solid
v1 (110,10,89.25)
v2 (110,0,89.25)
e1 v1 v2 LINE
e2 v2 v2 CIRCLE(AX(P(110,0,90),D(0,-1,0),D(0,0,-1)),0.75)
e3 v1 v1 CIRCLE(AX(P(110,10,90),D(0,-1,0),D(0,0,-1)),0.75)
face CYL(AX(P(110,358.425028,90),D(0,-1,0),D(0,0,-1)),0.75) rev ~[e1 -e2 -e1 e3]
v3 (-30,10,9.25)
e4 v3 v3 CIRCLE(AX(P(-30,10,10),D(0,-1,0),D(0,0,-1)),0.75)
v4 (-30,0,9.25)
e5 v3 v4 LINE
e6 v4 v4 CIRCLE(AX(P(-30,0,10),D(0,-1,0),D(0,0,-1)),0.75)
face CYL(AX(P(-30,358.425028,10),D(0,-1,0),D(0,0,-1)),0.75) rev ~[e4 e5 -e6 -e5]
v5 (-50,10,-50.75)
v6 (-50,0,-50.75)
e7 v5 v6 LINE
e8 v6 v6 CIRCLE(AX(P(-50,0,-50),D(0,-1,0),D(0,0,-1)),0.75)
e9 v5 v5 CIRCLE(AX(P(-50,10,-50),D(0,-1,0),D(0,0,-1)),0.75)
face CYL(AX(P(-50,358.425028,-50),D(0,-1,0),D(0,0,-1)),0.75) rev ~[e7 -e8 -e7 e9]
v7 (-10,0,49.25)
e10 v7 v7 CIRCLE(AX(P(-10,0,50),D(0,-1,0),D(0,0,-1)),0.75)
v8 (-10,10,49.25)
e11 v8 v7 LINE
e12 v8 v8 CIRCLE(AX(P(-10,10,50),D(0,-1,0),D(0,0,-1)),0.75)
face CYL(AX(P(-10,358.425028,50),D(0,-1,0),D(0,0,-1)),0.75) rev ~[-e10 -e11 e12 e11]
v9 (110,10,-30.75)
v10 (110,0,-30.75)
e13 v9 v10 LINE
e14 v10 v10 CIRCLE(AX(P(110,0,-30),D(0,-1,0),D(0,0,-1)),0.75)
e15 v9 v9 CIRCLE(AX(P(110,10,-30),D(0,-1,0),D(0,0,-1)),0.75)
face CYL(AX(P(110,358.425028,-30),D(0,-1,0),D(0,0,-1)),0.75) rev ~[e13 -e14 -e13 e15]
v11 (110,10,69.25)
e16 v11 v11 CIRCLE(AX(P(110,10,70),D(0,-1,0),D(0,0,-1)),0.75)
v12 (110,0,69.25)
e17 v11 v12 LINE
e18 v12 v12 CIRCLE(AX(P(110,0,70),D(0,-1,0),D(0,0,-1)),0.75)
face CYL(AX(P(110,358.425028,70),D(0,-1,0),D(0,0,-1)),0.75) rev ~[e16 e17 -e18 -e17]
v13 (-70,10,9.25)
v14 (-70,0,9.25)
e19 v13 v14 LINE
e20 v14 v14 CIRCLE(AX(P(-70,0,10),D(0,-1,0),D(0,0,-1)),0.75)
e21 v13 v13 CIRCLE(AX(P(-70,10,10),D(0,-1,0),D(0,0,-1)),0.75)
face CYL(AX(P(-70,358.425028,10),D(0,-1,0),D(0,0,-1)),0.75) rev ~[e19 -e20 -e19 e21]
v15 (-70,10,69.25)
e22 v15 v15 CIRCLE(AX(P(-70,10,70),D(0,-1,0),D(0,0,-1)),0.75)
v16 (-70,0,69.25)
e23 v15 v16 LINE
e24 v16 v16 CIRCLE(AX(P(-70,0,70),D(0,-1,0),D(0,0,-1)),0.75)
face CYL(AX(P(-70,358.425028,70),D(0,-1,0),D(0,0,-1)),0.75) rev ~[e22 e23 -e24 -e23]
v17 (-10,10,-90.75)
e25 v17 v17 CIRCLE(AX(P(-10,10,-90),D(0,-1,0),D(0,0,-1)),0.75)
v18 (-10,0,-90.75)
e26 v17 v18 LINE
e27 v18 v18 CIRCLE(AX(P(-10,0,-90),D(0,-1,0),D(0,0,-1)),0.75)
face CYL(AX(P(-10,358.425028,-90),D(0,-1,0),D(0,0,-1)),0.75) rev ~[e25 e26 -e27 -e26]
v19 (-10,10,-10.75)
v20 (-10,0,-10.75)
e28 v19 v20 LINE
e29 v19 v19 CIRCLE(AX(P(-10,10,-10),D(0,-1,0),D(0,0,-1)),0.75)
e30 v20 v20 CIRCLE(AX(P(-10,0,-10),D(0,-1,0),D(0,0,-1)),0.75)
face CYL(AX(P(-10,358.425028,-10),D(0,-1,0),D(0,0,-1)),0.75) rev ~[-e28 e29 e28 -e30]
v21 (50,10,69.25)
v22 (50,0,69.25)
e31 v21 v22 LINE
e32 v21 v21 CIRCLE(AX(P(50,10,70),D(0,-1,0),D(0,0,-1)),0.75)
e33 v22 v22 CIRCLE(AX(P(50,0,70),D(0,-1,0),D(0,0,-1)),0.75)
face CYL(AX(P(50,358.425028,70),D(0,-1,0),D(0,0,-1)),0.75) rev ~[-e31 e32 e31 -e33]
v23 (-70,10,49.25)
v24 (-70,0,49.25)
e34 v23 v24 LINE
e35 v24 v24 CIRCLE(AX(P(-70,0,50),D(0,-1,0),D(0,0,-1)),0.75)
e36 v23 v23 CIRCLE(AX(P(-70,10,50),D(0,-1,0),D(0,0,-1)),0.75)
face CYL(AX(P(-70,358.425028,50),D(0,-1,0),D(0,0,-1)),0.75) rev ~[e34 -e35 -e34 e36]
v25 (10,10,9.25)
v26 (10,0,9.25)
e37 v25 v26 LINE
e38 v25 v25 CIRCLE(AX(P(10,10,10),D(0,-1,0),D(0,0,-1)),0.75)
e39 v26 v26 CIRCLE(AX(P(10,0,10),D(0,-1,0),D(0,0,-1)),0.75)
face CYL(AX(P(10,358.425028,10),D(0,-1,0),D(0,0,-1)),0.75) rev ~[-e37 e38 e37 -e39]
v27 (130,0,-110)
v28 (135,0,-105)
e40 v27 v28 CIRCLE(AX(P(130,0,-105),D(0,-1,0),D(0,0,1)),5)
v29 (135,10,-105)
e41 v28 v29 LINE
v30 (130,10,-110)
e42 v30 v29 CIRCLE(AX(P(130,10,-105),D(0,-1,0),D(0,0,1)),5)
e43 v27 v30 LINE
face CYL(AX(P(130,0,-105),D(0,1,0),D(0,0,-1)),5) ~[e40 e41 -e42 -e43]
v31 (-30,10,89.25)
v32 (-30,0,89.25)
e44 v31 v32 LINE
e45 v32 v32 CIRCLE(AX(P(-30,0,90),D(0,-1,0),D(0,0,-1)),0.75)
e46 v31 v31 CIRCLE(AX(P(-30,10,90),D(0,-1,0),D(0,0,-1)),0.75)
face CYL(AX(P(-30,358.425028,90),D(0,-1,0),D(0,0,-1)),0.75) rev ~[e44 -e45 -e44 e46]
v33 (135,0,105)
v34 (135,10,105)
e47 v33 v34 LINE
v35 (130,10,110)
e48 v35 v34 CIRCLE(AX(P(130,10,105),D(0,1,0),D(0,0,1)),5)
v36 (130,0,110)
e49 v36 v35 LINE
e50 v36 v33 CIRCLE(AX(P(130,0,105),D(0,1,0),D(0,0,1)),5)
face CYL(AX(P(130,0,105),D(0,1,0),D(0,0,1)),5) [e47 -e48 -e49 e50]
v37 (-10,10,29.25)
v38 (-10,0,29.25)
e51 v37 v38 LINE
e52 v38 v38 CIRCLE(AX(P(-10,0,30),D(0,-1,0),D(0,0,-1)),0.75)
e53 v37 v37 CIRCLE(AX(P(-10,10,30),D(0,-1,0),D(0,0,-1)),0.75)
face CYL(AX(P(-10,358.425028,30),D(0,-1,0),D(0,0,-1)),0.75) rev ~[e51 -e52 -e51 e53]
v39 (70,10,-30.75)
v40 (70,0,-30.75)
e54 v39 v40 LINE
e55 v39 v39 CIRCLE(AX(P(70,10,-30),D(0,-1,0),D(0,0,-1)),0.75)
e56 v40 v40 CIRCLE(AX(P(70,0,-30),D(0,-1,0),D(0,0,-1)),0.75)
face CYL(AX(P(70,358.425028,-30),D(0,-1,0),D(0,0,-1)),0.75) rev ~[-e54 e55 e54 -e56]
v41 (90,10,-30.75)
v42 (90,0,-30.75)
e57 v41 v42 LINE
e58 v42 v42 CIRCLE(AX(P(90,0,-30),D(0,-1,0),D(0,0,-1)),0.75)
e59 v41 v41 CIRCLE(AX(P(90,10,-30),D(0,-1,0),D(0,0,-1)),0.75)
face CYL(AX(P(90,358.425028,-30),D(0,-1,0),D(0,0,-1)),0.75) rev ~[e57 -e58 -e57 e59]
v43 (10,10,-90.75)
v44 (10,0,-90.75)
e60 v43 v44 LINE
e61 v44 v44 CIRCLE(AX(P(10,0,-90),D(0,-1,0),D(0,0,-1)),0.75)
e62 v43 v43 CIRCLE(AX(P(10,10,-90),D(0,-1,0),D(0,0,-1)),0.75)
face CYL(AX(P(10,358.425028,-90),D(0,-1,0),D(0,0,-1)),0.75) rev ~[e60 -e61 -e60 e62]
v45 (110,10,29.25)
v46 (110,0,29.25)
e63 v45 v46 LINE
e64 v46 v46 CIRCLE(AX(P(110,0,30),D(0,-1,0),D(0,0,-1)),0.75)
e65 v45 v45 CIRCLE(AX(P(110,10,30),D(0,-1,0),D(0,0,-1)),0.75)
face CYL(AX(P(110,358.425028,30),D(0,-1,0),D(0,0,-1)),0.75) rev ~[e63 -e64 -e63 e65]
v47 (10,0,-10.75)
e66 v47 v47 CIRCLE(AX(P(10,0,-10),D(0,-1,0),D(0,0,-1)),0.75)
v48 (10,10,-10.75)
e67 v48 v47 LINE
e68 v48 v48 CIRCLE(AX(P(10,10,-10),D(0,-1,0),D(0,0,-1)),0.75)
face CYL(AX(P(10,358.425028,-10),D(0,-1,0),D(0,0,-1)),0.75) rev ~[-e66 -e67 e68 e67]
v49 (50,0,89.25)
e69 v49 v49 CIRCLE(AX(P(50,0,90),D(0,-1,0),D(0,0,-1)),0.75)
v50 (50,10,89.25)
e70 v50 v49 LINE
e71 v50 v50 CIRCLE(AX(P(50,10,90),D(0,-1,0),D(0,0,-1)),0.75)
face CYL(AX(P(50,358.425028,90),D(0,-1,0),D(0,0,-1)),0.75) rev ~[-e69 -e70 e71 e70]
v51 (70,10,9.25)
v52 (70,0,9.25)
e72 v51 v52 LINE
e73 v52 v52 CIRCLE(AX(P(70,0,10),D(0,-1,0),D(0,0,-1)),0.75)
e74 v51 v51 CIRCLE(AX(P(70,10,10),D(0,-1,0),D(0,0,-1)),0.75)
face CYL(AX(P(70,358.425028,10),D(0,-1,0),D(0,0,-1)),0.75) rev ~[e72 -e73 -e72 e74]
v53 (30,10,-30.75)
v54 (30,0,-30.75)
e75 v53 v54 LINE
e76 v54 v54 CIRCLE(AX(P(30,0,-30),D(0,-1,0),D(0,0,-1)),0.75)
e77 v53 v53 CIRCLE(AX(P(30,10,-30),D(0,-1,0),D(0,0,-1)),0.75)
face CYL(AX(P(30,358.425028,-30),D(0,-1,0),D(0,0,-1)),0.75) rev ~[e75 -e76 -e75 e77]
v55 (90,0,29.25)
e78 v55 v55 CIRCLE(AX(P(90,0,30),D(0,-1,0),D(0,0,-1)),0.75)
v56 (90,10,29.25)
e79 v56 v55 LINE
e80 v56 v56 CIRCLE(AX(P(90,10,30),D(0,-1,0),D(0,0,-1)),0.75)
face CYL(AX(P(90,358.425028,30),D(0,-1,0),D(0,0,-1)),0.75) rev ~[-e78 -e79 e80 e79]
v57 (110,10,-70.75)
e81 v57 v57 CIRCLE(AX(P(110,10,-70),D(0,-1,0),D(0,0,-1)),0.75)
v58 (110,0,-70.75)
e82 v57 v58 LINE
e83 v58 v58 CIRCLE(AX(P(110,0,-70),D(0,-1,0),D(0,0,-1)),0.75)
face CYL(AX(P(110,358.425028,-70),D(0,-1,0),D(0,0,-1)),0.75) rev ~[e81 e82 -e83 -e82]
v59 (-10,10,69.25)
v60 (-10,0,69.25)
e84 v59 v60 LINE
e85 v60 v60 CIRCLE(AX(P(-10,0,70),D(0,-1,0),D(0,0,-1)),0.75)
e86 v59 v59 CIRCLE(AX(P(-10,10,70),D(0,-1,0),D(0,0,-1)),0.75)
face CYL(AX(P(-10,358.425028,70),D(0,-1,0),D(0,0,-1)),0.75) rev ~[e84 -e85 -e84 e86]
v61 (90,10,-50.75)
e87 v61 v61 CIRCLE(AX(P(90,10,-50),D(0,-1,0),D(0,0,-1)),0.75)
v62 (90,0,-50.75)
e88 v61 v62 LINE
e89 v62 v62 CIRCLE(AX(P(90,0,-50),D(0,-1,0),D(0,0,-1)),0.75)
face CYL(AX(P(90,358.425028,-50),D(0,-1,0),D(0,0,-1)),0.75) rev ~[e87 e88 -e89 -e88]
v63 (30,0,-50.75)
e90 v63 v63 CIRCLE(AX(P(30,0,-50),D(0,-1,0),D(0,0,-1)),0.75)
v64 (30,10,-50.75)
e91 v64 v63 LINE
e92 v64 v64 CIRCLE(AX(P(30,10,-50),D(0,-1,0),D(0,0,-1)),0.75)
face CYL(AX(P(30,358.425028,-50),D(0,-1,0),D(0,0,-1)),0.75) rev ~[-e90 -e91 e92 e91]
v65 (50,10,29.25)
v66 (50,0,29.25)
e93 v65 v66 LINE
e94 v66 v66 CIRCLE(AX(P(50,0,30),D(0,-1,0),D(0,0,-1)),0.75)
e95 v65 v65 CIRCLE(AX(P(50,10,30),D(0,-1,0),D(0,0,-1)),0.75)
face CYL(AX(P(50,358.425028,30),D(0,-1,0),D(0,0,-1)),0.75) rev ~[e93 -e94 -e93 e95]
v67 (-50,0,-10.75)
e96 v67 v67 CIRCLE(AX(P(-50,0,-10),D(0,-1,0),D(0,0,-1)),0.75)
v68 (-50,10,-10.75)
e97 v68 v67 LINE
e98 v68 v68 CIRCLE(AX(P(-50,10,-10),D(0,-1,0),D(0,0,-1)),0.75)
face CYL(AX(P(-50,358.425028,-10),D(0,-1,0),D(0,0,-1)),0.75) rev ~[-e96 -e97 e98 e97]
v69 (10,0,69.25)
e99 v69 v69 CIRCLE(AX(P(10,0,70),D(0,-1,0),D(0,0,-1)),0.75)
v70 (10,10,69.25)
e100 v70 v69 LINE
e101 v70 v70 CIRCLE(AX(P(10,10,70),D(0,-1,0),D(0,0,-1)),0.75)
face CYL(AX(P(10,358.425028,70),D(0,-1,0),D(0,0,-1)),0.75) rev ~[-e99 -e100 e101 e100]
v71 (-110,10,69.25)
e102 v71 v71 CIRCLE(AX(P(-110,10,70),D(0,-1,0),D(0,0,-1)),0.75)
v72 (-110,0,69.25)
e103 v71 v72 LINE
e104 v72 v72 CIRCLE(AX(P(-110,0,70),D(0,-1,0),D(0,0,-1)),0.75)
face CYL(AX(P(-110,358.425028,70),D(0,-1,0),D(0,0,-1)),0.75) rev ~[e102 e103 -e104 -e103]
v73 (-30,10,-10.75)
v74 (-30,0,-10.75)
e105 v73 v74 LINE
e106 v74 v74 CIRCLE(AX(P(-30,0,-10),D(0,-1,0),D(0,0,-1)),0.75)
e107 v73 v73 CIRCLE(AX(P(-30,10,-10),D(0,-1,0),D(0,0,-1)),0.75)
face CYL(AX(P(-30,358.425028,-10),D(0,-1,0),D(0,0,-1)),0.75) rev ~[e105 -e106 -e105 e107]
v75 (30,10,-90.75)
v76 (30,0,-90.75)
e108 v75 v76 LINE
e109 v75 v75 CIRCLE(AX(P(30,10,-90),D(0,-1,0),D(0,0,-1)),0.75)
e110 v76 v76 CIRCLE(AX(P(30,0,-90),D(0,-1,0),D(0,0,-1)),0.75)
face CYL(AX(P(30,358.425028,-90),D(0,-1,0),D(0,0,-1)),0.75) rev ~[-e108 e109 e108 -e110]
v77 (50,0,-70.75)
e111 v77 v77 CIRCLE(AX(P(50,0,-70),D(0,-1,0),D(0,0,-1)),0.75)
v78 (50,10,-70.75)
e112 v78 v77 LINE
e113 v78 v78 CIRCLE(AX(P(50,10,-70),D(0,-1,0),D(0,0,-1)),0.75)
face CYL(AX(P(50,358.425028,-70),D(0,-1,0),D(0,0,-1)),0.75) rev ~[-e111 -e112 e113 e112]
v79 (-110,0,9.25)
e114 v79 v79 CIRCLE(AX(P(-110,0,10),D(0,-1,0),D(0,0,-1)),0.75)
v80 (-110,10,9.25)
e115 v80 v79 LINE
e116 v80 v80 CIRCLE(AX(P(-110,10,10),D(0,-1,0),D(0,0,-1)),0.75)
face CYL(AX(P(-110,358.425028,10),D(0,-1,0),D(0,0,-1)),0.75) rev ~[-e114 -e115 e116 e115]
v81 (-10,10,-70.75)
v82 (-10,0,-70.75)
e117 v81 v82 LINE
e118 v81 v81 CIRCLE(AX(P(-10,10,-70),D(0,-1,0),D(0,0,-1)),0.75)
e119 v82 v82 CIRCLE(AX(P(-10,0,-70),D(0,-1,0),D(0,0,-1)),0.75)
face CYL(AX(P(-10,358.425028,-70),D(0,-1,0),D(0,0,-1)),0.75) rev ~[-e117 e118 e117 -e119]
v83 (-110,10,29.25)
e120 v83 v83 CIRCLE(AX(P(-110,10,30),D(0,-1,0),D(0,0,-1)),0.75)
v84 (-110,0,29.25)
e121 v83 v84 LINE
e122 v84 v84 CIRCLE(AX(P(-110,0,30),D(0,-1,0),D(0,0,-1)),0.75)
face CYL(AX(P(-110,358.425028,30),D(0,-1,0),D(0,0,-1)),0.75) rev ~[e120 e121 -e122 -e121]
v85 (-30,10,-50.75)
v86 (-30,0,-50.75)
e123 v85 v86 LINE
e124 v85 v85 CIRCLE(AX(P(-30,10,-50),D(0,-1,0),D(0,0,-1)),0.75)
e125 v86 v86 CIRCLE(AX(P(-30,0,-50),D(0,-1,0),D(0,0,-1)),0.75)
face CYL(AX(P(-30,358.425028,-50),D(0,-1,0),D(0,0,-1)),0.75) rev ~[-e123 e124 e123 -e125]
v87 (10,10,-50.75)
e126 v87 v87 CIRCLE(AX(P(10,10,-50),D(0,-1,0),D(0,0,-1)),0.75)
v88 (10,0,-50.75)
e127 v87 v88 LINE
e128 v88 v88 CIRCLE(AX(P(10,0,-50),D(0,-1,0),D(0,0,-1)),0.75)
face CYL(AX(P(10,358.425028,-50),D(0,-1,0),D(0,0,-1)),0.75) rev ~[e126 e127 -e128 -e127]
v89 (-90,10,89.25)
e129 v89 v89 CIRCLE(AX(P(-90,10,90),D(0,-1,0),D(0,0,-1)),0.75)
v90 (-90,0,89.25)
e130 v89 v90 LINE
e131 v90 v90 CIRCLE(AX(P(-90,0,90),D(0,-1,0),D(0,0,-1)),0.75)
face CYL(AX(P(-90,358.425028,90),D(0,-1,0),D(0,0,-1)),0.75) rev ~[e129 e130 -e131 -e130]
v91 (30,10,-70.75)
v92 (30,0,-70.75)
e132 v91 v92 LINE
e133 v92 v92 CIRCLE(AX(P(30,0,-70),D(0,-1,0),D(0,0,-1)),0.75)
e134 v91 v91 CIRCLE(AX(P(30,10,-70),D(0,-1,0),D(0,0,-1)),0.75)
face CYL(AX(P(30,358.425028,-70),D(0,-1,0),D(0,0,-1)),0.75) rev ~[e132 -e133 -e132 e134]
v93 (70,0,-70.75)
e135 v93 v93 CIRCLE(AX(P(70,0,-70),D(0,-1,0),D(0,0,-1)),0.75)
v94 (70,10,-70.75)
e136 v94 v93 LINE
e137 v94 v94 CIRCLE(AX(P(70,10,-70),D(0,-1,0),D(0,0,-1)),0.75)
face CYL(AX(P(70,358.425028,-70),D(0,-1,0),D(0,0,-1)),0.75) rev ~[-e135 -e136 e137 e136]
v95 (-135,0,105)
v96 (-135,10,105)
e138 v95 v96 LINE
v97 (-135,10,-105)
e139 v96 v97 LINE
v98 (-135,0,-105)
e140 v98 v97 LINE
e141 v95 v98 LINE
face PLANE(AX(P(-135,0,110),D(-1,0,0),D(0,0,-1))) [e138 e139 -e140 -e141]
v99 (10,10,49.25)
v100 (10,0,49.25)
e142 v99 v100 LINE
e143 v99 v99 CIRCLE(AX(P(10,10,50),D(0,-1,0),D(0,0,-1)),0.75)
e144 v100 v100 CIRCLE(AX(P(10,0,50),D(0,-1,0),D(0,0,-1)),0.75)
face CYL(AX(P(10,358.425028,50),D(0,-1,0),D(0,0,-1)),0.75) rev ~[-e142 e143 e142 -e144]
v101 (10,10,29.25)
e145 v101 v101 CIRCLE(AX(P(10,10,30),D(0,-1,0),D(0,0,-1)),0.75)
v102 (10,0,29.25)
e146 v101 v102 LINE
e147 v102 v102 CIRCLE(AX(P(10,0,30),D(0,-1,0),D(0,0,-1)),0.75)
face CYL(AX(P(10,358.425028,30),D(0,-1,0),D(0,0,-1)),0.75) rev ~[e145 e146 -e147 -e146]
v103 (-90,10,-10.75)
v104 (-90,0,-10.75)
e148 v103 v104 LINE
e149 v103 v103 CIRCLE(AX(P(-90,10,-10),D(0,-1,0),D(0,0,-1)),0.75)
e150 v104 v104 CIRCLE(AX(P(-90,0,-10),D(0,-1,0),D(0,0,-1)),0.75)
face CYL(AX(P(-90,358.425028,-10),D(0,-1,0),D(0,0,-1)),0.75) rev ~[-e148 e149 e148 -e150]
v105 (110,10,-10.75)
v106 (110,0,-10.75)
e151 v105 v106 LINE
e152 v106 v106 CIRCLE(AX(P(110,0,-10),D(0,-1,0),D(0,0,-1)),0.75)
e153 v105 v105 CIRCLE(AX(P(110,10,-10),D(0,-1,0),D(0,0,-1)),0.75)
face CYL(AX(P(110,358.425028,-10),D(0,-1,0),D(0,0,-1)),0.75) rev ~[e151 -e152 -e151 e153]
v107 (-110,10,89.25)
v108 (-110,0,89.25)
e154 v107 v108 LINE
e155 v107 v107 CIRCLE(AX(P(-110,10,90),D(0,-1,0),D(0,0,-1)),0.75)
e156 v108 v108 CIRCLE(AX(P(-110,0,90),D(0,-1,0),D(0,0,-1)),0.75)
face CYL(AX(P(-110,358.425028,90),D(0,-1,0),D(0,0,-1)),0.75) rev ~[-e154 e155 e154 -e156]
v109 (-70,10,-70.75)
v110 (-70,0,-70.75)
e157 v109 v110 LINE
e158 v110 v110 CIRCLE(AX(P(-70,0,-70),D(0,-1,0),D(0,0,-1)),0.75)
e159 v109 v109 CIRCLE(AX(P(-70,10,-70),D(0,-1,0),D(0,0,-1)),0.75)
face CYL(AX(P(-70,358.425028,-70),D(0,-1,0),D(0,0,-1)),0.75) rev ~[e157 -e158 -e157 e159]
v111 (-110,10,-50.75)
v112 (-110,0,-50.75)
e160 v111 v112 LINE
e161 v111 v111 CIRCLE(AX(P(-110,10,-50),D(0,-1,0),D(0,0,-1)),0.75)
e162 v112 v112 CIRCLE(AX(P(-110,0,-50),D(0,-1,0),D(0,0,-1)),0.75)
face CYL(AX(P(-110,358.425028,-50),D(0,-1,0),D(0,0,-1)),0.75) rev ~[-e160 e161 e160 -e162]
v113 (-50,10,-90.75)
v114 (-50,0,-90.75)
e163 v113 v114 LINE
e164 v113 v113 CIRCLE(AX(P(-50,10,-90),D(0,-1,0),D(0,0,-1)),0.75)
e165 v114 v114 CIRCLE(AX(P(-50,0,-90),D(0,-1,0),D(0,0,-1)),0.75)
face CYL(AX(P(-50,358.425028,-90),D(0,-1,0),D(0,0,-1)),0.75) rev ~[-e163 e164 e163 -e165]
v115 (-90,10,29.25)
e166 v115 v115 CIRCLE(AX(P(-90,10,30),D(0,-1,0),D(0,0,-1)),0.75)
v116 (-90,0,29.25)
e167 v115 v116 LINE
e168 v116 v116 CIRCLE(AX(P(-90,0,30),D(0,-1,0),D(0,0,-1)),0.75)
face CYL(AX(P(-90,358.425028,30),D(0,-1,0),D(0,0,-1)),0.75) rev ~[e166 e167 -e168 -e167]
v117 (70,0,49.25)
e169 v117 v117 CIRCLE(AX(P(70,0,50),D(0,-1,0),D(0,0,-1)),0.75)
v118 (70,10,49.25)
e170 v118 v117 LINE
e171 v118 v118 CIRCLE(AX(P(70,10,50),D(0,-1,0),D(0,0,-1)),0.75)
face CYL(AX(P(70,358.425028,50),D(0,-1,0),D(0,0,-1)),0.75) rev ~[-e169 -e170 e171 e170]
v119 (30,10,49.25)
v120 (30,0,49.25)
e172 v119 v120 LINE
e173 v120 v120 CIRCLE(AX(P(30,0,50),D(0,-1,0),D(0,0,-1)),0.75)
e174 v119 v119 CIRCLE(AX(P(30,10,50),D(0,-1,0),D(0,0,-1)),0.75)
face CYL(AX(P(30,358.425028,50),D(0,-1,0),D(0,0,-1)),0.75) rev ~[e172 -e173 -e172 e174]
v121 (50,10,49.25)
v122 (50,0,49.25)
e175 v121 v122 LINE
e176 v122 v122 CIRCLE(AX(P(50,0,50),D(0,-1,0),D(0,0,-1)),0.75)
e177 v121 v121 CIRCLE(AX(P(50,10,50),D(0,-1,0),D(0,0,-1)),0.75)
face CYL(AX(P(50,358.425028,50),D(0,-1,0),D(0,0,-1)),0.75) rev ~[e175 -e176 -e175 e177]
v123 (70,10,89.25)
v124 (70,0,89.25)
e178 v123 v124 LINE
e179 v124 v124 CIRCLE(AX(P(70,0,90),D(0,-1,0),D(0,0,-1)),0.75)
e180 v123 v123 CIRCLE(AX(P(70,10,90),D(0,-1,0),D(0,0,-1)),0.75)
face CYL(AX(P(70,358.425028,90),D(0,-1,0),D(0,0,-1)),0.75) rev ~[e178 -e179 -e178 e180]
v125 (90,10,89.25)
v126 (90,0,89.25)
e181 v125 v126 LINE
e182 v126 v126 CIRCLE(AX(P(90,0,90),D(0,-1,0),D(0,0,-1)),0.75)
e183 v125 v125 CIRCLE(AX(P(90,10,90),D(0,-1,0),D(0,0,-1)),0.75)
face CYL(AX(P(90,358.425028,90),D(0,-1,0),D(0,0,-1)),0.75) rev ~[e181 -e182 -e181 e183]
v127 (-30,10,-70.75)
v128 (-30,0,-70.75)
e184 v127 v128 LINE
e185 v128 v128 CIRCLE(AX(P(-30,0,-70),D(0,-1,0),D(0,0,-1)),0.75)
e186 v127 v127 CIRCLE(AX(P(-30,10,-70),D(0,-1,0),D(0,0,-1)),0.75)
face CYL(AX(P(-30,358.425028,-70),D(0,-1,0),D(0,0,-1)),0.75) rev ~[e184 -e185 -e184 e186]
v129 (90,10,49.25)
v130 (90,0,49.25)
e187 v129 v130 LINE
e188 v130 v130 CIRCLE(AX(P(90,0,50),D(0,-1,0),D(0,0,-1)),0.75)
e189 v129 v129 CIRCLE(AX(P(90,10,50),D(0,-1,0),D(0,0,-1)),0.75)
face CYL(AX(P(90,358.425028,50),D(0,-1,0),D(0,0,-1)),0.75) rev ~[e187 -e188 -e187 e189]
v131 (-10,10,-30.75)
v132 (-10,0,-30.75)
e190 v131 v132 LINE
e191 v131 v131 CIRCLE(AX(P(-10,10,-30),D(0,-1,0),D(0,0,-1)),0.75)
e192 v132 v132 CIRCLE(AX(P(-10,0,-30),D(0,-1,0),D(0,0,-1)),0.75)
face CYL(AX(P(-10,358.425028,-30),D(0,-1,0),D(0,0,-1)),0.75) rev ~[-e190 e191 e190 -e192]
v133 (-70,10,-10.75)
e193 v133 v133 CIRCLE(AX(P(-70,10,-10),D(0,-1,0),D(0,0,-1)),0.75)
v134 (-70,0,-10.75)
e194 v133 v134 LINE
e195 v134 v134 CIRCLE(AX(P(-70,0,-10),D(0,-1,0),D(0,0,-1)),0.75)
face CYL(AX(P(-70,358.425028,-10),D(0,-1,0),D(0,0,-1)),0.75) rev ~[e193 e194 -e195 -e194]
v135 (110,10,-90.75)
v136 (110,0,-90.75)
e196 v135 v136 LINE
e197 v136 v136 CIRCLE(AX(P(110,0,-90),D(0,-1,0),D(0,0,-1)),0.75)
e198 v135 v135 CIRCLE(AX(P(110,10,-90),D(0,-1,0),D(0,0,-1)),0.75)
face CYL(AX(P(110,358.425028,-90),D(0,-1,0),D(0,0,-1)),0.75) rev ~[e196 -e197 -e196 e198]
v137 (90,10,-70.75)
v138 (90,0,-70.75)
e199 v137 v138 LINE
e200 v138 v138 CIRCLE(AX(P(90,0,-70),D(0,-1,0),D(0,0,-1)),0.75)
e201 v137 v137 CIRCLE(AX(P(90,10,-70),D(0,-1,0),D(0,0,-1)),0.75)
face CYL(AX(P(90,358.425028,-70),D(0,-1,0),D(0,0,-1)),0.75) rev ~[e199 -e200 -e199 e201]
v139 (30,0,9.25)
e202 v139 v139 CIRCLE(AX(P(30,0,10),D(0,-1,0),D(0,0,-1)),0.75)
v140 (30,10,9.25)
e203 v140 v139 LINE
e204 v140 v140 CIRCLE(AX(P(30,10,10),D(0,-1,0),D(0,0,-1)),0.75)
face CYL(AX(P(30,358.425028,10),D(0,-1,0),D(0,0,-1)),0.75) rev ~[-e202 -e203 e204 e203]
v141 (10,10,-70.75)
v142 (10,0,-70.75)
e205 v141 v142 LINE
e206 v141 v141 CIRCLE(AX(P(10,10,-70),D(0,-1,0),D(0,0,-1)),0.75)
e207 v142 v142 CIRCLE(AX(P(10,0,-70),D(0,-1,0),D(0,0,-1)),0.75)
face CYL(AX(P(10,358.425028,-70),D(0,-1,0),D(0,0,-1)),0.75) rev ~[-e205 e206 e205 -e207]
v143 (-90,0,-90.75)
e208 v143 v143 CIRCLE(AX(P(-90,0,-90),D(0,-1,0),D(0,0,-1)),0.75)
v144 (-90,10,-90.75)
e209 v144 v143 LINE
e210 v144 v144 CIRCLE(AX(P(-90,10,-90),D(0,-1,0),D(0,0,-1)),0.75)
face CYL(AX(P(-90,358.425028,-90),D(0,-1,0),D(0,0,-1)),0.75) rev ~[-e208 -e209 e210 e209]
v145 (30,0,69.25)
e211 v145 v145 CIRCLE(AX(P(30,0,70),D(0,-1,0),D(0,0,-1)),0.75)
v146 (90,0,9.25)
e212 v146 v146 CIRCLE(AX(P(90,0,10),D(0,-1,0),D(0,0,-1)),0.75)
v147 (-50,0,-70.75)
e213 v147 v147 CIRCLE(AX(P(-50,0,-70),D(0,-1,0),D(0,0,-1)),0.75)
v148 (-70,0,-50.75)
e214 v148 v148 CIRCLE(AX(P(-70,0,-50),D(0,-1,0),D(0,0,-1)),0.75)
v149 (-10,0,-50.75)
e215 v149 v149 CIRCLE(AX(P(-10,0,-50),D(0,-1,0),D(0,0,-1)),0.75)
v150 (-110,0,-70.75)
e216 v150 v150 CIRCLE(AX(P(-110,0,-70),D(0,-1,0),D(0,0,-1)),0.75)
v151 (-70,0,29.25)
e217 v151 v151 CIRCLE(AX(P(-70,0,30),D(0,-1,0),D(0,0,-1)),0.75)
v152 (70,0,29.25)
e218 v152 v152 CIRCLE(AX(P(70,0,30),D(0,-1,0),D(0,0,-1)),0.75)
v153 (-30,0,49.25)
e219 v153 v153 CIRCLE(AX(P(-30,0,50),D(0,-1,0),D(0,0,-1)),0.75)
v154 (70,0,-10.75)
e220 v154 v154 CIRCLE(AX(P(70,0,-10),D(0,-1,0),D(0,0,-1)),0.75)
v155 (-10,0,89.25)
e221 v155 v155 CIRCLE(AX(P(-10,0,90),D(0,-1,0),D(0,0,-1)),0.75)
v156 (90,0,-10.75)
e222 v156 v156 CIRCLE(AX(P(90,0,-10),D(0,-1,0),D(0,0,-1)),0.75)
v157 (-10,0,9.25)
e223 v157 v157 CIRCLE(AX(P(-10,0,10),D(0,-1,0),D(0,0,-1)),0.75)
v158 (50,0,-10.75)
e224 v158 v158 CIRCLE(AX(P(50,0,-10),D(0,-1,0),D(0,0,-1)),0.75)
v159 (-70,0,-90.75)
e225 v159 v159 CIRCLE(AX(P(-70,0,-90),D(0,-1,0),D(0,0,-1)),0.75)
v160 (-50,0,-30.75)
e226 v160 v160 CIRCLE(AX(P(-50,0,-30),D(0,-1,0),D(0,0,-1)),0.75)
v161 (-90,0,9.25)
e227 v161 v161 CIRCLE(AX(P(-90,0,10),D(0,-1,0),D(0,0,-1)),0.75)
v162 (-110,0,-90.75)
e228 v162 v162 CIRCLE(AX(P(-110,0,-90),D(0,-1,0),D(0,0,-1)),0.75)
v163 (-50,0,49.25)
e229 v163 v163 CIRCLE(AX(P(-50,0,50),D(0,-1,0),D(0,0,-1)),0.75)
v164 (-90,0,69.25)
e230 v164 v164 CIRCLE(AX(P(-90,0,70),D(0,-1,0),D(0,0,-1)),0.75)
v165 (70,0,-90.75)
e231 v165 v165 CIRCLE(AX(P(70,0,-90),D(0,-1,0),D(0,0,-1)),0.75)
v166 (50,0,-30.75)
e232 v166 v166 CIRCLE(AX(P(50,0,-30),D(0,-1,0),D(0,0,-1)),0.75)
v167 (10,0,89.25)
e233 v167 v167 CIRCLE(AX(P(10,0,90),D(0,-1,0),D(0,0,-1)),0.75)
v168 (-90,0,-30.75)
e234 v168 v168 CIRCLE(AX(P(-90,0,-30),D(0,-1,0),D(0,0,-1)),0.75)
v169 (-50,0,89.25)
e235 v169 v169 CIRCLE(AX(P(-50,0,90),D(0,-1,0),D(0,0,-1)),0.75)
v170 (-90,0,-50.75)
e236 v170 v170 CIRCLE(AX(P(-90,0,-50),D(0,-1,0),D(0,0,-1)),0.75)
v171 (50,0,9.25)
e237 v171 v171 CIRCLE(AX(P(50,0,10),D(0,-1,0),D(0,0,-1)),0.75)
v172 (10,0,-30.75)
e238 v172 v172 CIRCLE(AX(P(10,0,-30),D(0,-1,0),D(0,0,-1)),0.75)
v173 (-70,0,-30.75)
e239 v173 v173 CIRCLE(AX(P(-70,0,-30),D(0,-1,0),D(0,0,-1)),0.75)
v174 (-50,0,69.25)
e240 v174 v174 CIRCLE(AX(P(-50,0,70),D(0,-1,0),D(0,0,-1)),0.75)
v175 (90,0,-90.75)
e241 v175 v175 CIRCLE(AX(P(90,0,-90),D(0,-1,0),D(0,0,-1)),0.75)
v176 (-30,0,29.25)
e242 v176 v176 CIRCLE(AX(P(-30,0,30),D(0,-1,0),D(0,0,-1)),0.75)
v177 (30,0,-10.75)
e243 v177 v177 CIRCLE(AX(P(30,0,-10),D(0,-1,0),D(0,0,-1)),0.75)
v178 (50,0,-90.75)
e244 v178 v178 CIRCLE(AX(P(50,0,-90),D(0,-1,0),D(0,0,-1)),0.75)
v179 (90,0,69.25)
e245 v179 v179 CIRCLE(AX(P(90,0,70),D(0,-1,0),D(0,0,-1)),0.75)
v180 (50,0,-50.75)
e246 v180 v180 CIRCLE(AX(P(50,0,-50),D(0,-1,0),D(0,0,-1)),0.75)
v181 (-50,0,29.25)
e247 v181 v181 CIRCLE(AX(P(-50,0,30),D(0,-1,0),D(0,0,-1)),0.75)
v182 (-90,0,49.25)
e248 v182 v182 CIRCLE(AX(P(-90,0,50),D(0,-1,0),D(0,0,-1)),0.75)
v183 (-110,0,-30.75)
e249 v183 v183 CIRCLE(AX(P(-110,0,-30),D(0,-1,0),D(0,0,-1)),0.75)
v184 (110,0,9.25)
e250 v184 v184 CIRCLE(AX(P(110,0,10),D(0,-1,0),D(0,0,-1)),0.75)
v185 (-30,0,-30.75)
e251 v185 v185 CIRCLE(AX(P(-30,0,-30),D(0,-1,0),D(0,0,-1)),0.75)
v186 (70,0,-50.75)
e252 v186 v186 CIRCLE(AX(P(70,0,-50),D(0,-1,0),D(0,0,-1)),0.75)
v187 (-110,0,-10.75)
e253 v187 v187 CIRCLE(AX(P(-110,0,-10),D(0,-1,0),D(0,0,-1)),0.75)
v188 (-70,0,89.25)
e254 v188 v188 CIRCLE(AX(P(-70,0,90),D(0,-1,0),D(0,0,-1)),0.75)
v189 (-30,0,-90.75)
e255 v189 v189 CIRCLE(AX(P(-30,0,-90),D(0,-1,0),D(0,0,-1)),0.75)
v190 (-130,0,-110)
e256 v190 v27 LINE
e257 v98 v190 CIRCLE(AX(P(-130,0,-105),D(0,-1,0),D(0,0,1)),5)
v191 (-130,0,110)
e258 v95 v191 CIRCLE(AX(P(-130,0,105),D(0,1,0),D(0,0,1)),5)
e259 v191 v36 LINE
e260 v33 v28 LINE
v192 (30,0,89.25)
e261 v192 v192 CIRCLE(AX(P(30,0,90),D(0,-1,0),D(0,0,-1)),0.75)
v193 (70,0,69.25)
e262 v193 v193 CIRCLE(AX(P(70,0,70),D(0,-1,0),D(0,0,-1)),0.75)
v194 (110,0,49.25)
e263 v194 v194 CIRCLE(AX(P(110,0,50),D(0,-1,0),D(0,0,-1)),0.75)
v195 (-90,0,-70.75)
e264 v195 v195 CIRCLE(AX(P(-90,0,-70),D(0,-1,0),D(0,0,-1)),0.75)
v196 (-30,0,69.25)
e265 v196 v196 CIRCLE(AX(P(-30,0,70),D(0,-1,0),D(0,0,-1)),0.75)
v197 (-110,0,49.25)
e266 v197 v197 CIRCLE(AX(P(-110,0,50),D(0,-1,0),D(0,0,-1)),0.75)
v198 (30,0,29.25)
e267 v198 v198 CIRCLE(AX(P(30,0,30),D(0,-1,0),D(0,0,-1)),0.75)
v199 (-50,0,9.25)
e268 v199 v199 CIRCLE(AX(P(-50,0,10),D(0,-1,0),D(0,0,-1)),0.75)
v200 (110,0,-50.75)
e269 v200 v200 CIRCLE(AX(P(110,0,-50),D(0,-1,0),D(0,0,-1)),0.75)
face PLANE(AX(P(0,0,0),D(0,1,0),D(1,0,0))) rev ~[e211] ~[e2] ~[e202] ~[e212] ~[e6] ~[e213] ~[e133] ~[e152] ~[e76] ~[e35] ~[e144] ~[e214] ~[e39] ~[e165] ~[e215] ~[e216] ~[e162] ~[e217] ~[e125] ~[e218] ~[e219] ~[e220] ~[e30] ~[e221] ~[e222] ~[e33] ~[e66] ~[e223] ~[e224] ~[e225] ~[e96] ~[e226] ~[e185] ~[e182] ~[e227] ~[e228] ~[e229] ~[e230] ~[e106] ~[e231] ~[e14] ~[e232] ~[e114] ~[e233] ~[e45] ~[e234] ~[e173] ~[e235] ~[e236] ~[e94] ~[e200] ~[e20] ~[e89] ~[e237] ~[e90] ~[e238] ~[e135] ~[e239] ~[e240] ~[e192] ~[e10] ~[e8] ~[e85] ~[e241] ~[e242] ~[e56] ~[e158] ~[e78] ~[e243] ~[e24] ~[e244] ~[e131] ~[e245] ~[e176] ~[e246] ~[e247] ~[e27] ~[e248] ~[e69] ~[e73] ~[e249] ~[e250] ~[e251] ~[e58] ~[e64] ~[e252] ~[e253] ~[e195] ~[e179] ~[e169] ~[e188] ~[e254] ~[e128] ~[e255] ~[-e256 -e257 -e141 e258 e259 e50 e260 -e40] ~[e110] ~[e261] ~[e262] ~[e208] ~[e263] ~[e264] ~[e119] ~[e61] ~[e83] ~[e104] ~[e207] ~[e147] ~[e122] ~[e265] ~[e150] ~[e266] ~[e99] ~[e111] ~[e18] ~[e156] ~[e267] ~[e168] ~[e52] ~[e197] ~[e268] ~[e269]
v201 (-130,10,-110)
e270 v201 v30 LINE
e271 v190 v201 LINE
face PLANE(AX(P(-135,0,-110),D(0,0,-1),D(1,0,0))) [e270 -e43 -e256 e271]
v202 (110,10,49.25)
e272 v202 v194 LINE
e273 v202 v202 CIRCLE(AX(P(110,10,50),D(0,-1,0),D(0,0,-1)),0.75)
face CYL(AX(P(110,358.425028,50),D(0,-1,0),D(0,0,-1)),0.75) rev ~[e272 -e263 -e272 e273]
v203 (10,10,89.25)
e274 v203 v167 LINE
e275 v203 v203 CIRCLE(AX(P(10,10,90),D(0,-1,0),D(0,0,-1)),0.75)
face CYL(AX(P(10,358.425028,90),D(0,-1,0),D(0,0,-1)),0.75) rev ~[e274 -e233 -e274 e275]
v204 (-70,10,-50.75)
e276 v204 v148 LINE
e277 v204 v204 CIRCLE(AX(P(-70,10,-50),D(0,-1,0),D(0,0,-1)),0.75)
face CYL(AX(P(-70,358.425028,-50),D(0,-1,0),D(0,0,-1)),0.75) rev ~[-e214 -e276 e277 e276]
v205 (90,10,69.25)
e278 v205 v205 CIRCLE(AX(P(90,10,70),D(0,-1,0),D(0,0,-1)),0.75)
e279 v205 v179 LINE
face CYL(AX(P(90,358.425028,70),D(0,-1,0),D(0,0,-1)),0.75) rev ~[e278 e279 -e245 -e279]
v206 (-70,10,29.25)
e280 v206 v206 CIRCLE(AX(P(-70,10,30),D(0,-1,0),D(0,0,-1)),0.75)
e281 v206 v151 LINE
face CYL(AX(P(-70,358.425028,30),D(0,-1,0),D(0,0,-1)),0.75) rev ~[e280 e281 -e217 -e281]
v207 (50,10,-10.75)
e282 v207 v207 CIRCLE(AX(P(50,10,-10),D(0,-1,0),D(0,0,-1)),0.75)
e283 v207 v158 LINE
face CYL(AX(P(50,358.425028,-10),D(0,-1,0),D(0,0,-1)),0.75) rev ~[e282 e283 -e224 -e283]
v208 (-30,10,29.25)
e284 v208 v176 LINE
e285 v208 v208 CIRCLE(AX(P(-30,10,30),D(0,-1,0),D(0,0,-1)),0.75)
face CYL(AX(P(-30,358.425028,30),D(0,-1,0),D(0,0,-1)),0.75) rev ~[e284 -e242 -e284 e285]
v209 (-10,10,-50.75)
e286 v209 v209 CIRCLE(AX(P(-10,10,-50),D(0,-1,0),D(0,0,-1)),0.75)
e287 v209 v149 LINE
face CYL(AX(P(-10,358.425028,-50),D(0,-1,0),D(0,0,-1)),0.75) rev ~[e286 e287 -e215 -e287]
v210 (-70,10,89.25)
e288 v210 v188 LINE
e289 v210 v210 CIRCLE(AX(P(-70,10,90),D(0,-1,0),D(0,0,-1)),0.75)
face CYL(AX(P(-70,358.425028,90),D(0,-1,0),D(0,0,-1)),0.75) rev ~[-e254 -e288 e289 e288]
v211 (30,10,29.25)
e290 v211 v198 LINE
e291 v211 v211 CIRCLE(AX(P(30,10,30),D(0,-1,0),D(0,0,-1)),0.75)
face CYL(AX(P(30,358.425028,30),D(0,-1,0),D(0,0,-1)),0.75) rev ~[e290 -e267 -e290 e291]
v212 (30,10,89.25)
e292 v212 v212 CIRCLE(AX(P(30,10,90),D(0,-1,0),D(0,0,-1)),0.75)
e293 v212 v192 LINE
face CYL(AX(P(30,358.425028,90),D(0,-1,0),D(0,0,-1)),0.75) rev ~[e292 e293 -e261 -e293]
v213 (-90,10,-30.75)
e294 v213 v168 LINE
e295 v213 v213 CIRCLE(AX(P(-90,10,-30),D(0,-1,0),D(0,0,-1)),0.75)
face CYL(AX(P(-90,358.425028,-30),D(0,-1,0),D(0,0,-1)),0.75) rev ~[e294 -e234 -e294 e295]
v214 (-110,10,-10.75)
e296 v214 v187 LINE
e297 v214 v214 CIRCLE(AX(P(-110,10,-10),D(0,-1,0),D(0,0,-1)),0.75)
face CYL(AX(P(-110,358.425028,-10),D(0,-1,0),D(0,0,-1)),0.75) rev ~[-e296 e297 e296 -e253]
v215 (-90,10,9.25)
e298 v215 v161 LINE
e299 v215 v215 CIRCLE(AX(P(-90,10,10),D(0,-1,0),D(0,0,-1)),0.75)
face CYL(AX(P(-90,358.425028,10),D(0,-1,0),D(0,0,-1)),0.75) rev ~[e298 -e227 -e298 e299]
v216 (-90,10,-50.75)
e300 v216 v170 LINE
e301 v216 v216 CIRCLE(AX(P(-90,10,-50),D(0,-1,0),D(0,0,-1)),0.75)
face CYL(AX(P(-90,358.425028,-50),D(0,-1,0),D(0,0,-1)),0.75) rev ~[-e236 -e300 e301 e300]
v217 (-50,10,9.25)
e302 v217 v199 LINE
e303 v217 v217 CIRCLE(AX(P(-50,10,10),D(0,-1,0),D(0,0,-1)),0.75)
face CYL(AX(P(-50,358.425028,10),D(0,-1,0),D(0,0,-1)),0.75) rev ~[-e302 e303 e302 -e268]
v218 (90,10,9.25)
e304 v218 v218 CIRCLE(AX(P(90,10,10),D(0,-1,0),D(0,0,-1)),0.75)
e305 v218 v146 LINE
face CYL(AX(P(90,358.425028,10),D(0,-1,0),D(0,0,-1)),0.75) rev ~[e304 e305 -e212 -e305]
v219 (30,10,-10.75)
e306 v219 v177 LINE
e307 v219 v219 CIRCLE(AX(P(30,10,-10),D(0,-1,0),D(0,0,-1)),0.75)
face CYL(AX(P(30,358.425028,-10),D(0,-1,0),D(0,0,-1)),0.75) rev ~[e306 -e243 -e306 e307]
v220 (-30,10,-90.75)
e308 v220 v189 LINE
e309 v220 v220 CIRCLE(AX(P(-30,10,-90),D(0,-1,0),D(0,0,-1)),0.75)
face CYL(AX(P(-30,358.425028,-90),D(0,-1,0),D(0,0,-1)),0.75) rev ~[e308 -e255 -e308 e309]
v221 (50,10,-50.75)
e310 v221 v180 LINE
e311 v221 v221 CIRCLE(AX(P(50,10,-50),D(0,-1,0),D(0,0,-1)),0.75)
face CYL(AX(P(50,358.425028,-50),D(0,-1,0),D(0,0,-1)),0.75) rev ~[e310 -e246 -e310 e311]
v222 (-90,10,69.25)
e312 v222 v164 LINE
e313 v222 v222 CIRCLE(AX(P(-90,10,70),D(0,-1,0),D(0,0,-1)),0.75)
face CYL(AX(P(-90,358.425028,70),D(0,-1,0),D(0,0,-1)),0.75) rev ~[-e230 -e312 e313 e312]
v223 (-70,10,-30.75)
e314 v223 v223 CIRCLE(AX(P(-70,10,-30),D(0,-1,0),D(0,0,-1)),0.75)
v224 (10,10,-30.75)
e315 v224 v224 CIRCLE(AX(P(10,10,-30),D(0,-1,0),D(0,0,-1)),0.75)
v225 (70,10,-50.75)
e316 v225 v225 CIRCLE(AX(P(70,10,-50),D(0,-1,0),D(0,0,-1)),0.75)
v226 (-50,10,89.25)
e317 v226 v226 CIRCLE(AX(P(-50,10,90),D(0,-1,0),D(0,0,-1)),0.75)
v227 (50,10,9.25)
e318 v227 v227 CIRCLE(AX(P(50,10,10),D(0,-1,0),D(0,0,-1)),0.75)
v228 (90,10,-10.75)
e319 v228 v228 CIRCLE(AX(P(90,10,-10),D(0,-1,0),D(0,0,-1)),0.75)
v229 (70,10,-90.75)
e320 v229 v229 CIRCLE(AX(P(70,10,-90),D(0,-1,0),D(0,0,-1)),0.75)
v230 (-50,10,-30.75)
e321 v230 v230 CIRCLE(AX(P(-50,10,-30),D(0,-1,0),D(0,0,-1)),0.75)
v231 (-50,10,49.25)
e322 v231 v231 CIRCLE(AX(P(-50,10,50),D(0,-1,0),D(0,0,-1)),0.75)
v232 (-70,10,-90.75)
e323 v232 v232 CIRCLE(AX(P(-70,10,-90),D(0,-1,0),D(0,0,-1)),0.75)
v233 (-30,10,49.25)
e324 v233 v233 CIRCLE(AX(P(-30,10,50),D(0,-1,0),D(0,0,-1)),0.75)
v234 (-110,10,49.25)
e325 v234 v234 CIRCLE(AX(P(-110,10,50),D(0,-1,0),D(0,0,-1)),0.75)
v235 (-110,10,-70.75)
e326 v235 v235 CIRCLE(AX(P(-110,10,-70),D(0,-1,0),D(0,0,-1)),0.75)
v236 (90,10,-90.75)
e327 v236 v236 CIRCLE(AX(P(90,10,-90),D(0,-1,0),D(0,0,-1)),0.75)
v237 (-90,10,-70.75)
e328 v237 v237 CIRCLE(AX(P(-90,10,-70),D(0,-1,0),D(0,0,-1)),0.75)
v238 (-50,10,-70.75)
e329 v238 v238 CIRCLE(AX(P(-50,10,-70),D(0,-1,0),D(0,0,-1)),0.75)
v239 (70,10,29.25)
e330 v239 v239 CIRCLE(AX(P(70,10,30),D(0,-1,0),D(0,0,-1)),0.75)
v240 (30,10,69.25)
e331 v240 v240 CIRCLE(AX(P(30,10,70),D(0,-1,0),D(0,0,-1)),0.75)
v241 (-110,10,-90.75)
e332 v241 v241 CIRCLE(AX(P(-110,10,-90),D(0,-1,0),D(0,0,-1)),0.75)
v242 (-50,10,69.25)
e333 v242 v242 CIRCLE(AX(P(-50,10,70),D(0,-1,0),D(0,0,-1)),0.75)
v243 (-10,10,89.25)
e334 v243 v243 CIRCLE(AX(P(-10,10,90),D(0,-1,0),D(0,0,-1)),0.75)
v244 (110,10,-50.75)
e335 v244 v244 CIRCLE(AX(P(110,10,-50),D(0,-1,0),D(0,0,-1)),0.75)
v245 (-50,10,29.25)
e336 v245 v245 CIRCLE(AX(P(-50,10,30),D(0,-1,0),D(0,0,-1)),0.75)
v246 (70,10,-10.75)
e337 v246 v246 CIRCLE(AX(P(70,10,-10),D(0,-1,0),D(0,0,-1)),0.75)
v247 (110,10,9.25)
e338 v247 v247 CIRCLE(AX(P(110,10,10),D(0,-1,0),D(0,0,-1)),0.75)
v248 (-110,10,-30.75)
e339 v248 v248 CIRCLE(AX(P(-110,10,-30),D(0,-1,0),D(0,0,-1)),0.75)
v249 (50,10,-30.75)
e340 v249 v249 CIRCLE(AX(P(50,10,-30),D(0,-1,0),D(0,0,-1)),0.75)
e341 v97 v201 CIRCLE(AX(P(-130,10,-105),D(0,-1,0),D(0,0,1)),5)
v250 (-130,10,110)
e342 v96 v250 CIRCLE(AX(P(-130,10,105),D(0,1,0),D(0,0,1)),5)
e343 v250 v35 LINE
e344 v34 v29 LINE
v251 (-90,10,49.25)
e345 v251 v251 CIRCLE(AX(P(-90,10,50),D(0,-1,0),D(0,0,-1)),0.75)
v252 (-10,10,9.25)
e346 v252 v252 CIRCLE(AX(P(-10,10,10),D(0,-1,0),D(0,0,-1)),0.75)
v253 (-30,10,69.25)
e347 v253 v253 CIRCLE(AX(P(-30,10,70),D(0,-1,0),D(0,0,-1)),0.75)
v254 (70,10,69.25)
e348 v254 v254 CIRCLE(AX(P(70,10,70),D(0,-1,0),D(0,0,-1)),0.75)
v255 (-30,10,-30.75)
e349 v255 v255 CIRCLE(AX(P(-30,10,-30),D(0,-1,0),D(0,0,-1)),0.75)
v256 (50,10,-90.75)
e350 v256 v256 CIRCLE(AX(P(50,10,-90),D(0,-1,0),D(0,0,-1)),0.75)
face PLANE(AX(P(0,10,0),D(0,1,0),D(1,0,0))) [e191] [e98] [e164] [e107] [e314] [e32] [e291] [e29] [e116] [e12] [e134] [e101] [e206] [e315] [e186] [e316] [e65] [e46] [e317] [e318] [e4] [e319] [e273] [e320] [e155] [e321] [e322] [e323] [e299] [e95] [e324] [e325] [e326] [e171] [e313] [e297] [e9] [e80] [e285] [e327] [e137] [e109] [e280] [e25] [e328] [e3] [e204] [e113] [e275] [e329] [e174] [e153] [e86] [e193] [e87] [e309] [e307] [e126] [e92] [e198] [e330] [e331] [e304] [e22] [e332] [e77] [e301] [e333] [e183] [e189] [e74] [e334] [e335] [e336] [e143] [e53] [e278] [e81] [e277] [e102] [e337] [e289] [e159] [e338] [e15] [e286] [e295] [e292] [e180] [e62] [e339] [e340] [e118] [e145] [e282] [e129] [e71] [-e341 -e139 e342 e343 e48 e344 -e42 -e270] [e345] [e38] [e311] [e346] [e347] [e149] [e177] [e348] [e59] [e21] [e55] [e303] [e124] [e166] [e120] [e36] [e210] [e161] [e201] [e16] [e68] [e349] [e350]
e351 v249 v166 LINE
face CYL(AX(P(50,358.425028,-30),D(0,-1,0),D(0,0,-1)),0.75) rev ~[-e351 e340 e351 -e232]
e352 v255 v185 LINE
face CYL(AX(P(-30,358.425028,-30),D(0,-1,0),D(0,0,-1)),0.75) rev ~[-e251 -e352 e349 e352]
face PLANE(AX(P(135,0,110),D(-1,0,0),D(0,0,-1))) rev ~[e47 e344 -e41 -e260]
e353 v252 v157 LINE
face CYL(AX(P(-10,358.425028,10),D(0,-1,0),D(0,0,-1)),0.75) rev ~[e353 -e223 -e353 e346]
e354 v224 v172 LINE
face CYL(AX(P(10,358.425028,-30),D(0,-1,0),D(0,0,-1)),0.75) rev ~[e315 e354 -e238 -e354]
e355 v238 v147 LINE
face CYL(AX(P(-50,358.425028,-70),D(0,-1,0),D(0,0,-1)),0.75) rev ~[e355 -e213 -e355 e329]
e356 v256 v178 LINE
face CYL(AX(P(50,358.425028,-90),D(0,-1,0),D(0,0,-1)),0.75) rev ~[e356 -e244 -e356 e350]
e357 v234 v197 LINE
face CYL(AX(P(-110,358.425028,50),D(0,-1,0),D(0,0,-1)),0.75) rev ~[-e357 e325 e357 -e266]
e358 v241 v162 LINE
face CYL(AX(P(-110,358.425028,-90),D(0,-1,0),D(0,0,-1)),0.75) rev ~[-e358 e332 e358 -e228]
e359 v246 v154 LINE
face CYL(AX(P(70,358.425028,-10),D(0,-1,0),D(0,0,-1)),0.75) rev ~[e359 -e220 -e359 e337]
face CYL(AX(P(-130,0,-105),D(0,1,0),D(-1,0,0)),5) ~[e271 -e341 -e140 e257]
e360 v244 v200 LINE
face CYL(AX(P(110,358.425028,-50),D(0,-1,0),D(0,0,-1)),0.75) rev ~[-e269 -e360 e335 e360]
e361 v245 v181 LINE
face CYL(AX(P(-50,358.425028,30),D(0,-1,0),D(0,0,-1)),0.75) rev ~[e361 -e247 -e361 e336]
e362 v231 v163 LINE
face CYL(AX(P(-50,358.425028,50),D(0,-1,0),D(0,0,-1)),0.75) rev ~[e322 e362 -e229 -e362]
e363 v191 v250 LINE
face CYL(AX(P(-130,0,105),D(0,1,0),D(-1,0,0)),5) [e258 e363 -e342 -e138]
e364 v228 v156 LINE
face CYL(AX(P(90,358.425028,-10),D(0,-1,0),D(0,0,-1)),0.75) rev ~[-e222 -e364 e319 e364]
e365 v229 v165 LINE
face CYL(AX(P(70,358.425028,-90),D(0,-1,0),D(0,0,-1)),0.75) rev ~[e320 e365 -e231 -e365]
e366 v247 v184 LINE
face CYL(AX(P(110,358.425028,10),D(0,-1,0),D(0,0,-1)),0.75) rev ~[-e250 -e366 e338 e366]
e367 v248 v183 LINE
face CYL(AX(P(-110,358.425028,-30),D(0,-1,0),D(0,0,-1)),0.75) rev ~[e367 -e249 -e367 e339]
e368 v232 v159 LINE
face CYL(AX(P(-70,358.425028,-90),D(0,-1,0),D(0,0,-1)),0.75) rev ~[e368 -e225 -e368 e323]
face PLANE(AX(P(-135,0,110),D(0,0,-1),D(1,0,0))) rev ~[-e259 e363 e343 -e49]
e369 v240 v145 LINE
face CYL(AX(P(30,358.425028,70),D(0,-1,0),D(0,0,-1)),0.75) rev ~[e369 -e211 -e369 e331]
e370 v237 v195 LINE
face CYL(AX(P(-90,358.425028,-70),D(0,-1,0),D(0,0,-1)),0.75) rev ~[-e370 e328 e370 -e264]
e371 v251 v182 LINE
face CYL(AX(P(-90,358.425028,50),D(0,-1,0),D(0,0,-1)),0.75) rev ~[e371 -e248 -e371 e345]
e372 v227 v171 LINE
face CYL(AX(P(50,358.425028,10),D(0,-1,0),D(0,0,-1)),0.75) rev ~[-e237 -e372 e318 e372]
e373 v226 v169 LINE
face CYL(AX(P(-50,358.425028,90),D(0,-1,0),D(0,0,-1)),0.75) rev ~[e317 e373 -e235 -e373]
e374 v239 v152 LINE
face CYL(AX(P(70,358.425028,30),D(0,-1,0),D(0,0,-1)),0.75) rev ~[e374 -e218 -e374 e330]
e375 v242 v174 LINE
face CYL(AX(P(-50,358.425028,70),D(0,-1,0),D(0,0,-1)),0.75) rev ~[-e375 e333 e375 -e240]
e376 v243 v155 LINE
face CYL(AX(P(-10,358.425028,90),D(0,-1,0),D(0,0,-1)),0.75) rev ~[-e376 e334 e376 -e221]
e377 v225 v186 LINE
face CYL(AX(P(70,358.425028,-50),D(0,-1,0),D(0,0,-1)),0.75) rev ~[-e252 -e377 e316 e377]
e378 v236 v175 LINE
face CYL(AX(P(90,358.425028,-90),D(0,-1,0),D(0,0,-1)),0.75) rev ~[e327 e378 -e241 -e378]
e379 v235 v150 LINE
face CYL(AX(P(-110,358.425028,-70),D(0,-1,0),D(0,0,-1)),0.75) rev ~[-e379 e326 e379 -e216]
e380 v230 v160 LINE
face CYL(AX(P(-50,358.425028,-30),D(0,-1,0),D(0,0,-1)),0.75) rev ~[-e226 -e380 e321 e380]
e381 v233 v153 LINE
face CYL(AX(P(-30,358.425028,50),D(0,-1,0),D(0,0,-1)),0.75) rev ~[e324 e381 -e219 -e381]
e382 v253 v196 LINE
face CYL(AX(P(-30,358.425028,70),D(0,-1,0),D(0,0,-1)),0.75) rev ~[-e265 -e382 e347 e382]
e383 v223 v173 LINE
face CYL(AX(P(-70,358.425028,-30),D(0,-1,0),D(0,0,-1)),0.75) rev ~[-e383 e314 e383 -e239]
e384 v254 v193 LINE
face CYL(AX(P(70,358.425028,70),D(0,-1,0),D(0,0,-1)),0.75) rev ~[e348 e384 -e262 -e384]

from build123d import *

# Parameters (mm, degrees)
SKETCH1_W                  = 270
SKETCH1_H                  = 220
BOSS_EXTRUDE1_DEPTH        = 10
F_1_5_1_5_DIAMETER_HOLE1_D = 1.5
LPATTERN1_COUNT            = 12
LPATTERN1_PITCH            = 20
LPATTERN1_COUNT_DIR2       = 10
LPATTERN1_PITCH_DIR2       = 20
FILLET1_R                  = 5


with BuildPart() as part:
    # Sketch1 → Boss-Extrude1 (new body)
    with BuildSketch(Plane(origin=(0, 0, 0), x_dir=(1, 0, 0), z_dir=(0, 1, 0))):
        Rectangle(SKETCH1_W, SKETCH1_H)
    extrude(amount=BOSS_EXTRUDE1_DEPTH)

    # Ø1.5 (1.5) Diameter Hole1 (through all)
    with Locations(Plane(origin=(-110, 10, -90), x_dir=(0, 0, 1), z_dir=(0, 1, 0))):
        with Locations((0, 0)):
            f_1_5_1_5_diameter_hole1 = Hole(F_1_5_1_5_DIAMETER_HOLE1_D / 2)

    # LPattern1: 1.5 _1.5_ Diameter Hole1 12 × 10
    with Locations(*[(i * LPATTERN1_PITCH, 0, j * LPATTERN1_PITCH_DIR2) for i in range(LPATTERN1_COUNT) for j in range(LPATTERN1_COUNT_DIR2) if (i, j) != (0, 0)]):
        add(f_1_5_1_5_diameter_hole1, mode=Mode.SUBTRACT)

    # Fillet1
    fillet1_edges = [part.edges().sort_by_distance(p)[0] for p in [
        (-135, 5, -110),
        (135, 5, -110),
        (135, 5, 110),
        (-135, 5, 110),
    ]]
    fillet(fillet1_edges, radius=FILLET1_R)


solid = part.part
